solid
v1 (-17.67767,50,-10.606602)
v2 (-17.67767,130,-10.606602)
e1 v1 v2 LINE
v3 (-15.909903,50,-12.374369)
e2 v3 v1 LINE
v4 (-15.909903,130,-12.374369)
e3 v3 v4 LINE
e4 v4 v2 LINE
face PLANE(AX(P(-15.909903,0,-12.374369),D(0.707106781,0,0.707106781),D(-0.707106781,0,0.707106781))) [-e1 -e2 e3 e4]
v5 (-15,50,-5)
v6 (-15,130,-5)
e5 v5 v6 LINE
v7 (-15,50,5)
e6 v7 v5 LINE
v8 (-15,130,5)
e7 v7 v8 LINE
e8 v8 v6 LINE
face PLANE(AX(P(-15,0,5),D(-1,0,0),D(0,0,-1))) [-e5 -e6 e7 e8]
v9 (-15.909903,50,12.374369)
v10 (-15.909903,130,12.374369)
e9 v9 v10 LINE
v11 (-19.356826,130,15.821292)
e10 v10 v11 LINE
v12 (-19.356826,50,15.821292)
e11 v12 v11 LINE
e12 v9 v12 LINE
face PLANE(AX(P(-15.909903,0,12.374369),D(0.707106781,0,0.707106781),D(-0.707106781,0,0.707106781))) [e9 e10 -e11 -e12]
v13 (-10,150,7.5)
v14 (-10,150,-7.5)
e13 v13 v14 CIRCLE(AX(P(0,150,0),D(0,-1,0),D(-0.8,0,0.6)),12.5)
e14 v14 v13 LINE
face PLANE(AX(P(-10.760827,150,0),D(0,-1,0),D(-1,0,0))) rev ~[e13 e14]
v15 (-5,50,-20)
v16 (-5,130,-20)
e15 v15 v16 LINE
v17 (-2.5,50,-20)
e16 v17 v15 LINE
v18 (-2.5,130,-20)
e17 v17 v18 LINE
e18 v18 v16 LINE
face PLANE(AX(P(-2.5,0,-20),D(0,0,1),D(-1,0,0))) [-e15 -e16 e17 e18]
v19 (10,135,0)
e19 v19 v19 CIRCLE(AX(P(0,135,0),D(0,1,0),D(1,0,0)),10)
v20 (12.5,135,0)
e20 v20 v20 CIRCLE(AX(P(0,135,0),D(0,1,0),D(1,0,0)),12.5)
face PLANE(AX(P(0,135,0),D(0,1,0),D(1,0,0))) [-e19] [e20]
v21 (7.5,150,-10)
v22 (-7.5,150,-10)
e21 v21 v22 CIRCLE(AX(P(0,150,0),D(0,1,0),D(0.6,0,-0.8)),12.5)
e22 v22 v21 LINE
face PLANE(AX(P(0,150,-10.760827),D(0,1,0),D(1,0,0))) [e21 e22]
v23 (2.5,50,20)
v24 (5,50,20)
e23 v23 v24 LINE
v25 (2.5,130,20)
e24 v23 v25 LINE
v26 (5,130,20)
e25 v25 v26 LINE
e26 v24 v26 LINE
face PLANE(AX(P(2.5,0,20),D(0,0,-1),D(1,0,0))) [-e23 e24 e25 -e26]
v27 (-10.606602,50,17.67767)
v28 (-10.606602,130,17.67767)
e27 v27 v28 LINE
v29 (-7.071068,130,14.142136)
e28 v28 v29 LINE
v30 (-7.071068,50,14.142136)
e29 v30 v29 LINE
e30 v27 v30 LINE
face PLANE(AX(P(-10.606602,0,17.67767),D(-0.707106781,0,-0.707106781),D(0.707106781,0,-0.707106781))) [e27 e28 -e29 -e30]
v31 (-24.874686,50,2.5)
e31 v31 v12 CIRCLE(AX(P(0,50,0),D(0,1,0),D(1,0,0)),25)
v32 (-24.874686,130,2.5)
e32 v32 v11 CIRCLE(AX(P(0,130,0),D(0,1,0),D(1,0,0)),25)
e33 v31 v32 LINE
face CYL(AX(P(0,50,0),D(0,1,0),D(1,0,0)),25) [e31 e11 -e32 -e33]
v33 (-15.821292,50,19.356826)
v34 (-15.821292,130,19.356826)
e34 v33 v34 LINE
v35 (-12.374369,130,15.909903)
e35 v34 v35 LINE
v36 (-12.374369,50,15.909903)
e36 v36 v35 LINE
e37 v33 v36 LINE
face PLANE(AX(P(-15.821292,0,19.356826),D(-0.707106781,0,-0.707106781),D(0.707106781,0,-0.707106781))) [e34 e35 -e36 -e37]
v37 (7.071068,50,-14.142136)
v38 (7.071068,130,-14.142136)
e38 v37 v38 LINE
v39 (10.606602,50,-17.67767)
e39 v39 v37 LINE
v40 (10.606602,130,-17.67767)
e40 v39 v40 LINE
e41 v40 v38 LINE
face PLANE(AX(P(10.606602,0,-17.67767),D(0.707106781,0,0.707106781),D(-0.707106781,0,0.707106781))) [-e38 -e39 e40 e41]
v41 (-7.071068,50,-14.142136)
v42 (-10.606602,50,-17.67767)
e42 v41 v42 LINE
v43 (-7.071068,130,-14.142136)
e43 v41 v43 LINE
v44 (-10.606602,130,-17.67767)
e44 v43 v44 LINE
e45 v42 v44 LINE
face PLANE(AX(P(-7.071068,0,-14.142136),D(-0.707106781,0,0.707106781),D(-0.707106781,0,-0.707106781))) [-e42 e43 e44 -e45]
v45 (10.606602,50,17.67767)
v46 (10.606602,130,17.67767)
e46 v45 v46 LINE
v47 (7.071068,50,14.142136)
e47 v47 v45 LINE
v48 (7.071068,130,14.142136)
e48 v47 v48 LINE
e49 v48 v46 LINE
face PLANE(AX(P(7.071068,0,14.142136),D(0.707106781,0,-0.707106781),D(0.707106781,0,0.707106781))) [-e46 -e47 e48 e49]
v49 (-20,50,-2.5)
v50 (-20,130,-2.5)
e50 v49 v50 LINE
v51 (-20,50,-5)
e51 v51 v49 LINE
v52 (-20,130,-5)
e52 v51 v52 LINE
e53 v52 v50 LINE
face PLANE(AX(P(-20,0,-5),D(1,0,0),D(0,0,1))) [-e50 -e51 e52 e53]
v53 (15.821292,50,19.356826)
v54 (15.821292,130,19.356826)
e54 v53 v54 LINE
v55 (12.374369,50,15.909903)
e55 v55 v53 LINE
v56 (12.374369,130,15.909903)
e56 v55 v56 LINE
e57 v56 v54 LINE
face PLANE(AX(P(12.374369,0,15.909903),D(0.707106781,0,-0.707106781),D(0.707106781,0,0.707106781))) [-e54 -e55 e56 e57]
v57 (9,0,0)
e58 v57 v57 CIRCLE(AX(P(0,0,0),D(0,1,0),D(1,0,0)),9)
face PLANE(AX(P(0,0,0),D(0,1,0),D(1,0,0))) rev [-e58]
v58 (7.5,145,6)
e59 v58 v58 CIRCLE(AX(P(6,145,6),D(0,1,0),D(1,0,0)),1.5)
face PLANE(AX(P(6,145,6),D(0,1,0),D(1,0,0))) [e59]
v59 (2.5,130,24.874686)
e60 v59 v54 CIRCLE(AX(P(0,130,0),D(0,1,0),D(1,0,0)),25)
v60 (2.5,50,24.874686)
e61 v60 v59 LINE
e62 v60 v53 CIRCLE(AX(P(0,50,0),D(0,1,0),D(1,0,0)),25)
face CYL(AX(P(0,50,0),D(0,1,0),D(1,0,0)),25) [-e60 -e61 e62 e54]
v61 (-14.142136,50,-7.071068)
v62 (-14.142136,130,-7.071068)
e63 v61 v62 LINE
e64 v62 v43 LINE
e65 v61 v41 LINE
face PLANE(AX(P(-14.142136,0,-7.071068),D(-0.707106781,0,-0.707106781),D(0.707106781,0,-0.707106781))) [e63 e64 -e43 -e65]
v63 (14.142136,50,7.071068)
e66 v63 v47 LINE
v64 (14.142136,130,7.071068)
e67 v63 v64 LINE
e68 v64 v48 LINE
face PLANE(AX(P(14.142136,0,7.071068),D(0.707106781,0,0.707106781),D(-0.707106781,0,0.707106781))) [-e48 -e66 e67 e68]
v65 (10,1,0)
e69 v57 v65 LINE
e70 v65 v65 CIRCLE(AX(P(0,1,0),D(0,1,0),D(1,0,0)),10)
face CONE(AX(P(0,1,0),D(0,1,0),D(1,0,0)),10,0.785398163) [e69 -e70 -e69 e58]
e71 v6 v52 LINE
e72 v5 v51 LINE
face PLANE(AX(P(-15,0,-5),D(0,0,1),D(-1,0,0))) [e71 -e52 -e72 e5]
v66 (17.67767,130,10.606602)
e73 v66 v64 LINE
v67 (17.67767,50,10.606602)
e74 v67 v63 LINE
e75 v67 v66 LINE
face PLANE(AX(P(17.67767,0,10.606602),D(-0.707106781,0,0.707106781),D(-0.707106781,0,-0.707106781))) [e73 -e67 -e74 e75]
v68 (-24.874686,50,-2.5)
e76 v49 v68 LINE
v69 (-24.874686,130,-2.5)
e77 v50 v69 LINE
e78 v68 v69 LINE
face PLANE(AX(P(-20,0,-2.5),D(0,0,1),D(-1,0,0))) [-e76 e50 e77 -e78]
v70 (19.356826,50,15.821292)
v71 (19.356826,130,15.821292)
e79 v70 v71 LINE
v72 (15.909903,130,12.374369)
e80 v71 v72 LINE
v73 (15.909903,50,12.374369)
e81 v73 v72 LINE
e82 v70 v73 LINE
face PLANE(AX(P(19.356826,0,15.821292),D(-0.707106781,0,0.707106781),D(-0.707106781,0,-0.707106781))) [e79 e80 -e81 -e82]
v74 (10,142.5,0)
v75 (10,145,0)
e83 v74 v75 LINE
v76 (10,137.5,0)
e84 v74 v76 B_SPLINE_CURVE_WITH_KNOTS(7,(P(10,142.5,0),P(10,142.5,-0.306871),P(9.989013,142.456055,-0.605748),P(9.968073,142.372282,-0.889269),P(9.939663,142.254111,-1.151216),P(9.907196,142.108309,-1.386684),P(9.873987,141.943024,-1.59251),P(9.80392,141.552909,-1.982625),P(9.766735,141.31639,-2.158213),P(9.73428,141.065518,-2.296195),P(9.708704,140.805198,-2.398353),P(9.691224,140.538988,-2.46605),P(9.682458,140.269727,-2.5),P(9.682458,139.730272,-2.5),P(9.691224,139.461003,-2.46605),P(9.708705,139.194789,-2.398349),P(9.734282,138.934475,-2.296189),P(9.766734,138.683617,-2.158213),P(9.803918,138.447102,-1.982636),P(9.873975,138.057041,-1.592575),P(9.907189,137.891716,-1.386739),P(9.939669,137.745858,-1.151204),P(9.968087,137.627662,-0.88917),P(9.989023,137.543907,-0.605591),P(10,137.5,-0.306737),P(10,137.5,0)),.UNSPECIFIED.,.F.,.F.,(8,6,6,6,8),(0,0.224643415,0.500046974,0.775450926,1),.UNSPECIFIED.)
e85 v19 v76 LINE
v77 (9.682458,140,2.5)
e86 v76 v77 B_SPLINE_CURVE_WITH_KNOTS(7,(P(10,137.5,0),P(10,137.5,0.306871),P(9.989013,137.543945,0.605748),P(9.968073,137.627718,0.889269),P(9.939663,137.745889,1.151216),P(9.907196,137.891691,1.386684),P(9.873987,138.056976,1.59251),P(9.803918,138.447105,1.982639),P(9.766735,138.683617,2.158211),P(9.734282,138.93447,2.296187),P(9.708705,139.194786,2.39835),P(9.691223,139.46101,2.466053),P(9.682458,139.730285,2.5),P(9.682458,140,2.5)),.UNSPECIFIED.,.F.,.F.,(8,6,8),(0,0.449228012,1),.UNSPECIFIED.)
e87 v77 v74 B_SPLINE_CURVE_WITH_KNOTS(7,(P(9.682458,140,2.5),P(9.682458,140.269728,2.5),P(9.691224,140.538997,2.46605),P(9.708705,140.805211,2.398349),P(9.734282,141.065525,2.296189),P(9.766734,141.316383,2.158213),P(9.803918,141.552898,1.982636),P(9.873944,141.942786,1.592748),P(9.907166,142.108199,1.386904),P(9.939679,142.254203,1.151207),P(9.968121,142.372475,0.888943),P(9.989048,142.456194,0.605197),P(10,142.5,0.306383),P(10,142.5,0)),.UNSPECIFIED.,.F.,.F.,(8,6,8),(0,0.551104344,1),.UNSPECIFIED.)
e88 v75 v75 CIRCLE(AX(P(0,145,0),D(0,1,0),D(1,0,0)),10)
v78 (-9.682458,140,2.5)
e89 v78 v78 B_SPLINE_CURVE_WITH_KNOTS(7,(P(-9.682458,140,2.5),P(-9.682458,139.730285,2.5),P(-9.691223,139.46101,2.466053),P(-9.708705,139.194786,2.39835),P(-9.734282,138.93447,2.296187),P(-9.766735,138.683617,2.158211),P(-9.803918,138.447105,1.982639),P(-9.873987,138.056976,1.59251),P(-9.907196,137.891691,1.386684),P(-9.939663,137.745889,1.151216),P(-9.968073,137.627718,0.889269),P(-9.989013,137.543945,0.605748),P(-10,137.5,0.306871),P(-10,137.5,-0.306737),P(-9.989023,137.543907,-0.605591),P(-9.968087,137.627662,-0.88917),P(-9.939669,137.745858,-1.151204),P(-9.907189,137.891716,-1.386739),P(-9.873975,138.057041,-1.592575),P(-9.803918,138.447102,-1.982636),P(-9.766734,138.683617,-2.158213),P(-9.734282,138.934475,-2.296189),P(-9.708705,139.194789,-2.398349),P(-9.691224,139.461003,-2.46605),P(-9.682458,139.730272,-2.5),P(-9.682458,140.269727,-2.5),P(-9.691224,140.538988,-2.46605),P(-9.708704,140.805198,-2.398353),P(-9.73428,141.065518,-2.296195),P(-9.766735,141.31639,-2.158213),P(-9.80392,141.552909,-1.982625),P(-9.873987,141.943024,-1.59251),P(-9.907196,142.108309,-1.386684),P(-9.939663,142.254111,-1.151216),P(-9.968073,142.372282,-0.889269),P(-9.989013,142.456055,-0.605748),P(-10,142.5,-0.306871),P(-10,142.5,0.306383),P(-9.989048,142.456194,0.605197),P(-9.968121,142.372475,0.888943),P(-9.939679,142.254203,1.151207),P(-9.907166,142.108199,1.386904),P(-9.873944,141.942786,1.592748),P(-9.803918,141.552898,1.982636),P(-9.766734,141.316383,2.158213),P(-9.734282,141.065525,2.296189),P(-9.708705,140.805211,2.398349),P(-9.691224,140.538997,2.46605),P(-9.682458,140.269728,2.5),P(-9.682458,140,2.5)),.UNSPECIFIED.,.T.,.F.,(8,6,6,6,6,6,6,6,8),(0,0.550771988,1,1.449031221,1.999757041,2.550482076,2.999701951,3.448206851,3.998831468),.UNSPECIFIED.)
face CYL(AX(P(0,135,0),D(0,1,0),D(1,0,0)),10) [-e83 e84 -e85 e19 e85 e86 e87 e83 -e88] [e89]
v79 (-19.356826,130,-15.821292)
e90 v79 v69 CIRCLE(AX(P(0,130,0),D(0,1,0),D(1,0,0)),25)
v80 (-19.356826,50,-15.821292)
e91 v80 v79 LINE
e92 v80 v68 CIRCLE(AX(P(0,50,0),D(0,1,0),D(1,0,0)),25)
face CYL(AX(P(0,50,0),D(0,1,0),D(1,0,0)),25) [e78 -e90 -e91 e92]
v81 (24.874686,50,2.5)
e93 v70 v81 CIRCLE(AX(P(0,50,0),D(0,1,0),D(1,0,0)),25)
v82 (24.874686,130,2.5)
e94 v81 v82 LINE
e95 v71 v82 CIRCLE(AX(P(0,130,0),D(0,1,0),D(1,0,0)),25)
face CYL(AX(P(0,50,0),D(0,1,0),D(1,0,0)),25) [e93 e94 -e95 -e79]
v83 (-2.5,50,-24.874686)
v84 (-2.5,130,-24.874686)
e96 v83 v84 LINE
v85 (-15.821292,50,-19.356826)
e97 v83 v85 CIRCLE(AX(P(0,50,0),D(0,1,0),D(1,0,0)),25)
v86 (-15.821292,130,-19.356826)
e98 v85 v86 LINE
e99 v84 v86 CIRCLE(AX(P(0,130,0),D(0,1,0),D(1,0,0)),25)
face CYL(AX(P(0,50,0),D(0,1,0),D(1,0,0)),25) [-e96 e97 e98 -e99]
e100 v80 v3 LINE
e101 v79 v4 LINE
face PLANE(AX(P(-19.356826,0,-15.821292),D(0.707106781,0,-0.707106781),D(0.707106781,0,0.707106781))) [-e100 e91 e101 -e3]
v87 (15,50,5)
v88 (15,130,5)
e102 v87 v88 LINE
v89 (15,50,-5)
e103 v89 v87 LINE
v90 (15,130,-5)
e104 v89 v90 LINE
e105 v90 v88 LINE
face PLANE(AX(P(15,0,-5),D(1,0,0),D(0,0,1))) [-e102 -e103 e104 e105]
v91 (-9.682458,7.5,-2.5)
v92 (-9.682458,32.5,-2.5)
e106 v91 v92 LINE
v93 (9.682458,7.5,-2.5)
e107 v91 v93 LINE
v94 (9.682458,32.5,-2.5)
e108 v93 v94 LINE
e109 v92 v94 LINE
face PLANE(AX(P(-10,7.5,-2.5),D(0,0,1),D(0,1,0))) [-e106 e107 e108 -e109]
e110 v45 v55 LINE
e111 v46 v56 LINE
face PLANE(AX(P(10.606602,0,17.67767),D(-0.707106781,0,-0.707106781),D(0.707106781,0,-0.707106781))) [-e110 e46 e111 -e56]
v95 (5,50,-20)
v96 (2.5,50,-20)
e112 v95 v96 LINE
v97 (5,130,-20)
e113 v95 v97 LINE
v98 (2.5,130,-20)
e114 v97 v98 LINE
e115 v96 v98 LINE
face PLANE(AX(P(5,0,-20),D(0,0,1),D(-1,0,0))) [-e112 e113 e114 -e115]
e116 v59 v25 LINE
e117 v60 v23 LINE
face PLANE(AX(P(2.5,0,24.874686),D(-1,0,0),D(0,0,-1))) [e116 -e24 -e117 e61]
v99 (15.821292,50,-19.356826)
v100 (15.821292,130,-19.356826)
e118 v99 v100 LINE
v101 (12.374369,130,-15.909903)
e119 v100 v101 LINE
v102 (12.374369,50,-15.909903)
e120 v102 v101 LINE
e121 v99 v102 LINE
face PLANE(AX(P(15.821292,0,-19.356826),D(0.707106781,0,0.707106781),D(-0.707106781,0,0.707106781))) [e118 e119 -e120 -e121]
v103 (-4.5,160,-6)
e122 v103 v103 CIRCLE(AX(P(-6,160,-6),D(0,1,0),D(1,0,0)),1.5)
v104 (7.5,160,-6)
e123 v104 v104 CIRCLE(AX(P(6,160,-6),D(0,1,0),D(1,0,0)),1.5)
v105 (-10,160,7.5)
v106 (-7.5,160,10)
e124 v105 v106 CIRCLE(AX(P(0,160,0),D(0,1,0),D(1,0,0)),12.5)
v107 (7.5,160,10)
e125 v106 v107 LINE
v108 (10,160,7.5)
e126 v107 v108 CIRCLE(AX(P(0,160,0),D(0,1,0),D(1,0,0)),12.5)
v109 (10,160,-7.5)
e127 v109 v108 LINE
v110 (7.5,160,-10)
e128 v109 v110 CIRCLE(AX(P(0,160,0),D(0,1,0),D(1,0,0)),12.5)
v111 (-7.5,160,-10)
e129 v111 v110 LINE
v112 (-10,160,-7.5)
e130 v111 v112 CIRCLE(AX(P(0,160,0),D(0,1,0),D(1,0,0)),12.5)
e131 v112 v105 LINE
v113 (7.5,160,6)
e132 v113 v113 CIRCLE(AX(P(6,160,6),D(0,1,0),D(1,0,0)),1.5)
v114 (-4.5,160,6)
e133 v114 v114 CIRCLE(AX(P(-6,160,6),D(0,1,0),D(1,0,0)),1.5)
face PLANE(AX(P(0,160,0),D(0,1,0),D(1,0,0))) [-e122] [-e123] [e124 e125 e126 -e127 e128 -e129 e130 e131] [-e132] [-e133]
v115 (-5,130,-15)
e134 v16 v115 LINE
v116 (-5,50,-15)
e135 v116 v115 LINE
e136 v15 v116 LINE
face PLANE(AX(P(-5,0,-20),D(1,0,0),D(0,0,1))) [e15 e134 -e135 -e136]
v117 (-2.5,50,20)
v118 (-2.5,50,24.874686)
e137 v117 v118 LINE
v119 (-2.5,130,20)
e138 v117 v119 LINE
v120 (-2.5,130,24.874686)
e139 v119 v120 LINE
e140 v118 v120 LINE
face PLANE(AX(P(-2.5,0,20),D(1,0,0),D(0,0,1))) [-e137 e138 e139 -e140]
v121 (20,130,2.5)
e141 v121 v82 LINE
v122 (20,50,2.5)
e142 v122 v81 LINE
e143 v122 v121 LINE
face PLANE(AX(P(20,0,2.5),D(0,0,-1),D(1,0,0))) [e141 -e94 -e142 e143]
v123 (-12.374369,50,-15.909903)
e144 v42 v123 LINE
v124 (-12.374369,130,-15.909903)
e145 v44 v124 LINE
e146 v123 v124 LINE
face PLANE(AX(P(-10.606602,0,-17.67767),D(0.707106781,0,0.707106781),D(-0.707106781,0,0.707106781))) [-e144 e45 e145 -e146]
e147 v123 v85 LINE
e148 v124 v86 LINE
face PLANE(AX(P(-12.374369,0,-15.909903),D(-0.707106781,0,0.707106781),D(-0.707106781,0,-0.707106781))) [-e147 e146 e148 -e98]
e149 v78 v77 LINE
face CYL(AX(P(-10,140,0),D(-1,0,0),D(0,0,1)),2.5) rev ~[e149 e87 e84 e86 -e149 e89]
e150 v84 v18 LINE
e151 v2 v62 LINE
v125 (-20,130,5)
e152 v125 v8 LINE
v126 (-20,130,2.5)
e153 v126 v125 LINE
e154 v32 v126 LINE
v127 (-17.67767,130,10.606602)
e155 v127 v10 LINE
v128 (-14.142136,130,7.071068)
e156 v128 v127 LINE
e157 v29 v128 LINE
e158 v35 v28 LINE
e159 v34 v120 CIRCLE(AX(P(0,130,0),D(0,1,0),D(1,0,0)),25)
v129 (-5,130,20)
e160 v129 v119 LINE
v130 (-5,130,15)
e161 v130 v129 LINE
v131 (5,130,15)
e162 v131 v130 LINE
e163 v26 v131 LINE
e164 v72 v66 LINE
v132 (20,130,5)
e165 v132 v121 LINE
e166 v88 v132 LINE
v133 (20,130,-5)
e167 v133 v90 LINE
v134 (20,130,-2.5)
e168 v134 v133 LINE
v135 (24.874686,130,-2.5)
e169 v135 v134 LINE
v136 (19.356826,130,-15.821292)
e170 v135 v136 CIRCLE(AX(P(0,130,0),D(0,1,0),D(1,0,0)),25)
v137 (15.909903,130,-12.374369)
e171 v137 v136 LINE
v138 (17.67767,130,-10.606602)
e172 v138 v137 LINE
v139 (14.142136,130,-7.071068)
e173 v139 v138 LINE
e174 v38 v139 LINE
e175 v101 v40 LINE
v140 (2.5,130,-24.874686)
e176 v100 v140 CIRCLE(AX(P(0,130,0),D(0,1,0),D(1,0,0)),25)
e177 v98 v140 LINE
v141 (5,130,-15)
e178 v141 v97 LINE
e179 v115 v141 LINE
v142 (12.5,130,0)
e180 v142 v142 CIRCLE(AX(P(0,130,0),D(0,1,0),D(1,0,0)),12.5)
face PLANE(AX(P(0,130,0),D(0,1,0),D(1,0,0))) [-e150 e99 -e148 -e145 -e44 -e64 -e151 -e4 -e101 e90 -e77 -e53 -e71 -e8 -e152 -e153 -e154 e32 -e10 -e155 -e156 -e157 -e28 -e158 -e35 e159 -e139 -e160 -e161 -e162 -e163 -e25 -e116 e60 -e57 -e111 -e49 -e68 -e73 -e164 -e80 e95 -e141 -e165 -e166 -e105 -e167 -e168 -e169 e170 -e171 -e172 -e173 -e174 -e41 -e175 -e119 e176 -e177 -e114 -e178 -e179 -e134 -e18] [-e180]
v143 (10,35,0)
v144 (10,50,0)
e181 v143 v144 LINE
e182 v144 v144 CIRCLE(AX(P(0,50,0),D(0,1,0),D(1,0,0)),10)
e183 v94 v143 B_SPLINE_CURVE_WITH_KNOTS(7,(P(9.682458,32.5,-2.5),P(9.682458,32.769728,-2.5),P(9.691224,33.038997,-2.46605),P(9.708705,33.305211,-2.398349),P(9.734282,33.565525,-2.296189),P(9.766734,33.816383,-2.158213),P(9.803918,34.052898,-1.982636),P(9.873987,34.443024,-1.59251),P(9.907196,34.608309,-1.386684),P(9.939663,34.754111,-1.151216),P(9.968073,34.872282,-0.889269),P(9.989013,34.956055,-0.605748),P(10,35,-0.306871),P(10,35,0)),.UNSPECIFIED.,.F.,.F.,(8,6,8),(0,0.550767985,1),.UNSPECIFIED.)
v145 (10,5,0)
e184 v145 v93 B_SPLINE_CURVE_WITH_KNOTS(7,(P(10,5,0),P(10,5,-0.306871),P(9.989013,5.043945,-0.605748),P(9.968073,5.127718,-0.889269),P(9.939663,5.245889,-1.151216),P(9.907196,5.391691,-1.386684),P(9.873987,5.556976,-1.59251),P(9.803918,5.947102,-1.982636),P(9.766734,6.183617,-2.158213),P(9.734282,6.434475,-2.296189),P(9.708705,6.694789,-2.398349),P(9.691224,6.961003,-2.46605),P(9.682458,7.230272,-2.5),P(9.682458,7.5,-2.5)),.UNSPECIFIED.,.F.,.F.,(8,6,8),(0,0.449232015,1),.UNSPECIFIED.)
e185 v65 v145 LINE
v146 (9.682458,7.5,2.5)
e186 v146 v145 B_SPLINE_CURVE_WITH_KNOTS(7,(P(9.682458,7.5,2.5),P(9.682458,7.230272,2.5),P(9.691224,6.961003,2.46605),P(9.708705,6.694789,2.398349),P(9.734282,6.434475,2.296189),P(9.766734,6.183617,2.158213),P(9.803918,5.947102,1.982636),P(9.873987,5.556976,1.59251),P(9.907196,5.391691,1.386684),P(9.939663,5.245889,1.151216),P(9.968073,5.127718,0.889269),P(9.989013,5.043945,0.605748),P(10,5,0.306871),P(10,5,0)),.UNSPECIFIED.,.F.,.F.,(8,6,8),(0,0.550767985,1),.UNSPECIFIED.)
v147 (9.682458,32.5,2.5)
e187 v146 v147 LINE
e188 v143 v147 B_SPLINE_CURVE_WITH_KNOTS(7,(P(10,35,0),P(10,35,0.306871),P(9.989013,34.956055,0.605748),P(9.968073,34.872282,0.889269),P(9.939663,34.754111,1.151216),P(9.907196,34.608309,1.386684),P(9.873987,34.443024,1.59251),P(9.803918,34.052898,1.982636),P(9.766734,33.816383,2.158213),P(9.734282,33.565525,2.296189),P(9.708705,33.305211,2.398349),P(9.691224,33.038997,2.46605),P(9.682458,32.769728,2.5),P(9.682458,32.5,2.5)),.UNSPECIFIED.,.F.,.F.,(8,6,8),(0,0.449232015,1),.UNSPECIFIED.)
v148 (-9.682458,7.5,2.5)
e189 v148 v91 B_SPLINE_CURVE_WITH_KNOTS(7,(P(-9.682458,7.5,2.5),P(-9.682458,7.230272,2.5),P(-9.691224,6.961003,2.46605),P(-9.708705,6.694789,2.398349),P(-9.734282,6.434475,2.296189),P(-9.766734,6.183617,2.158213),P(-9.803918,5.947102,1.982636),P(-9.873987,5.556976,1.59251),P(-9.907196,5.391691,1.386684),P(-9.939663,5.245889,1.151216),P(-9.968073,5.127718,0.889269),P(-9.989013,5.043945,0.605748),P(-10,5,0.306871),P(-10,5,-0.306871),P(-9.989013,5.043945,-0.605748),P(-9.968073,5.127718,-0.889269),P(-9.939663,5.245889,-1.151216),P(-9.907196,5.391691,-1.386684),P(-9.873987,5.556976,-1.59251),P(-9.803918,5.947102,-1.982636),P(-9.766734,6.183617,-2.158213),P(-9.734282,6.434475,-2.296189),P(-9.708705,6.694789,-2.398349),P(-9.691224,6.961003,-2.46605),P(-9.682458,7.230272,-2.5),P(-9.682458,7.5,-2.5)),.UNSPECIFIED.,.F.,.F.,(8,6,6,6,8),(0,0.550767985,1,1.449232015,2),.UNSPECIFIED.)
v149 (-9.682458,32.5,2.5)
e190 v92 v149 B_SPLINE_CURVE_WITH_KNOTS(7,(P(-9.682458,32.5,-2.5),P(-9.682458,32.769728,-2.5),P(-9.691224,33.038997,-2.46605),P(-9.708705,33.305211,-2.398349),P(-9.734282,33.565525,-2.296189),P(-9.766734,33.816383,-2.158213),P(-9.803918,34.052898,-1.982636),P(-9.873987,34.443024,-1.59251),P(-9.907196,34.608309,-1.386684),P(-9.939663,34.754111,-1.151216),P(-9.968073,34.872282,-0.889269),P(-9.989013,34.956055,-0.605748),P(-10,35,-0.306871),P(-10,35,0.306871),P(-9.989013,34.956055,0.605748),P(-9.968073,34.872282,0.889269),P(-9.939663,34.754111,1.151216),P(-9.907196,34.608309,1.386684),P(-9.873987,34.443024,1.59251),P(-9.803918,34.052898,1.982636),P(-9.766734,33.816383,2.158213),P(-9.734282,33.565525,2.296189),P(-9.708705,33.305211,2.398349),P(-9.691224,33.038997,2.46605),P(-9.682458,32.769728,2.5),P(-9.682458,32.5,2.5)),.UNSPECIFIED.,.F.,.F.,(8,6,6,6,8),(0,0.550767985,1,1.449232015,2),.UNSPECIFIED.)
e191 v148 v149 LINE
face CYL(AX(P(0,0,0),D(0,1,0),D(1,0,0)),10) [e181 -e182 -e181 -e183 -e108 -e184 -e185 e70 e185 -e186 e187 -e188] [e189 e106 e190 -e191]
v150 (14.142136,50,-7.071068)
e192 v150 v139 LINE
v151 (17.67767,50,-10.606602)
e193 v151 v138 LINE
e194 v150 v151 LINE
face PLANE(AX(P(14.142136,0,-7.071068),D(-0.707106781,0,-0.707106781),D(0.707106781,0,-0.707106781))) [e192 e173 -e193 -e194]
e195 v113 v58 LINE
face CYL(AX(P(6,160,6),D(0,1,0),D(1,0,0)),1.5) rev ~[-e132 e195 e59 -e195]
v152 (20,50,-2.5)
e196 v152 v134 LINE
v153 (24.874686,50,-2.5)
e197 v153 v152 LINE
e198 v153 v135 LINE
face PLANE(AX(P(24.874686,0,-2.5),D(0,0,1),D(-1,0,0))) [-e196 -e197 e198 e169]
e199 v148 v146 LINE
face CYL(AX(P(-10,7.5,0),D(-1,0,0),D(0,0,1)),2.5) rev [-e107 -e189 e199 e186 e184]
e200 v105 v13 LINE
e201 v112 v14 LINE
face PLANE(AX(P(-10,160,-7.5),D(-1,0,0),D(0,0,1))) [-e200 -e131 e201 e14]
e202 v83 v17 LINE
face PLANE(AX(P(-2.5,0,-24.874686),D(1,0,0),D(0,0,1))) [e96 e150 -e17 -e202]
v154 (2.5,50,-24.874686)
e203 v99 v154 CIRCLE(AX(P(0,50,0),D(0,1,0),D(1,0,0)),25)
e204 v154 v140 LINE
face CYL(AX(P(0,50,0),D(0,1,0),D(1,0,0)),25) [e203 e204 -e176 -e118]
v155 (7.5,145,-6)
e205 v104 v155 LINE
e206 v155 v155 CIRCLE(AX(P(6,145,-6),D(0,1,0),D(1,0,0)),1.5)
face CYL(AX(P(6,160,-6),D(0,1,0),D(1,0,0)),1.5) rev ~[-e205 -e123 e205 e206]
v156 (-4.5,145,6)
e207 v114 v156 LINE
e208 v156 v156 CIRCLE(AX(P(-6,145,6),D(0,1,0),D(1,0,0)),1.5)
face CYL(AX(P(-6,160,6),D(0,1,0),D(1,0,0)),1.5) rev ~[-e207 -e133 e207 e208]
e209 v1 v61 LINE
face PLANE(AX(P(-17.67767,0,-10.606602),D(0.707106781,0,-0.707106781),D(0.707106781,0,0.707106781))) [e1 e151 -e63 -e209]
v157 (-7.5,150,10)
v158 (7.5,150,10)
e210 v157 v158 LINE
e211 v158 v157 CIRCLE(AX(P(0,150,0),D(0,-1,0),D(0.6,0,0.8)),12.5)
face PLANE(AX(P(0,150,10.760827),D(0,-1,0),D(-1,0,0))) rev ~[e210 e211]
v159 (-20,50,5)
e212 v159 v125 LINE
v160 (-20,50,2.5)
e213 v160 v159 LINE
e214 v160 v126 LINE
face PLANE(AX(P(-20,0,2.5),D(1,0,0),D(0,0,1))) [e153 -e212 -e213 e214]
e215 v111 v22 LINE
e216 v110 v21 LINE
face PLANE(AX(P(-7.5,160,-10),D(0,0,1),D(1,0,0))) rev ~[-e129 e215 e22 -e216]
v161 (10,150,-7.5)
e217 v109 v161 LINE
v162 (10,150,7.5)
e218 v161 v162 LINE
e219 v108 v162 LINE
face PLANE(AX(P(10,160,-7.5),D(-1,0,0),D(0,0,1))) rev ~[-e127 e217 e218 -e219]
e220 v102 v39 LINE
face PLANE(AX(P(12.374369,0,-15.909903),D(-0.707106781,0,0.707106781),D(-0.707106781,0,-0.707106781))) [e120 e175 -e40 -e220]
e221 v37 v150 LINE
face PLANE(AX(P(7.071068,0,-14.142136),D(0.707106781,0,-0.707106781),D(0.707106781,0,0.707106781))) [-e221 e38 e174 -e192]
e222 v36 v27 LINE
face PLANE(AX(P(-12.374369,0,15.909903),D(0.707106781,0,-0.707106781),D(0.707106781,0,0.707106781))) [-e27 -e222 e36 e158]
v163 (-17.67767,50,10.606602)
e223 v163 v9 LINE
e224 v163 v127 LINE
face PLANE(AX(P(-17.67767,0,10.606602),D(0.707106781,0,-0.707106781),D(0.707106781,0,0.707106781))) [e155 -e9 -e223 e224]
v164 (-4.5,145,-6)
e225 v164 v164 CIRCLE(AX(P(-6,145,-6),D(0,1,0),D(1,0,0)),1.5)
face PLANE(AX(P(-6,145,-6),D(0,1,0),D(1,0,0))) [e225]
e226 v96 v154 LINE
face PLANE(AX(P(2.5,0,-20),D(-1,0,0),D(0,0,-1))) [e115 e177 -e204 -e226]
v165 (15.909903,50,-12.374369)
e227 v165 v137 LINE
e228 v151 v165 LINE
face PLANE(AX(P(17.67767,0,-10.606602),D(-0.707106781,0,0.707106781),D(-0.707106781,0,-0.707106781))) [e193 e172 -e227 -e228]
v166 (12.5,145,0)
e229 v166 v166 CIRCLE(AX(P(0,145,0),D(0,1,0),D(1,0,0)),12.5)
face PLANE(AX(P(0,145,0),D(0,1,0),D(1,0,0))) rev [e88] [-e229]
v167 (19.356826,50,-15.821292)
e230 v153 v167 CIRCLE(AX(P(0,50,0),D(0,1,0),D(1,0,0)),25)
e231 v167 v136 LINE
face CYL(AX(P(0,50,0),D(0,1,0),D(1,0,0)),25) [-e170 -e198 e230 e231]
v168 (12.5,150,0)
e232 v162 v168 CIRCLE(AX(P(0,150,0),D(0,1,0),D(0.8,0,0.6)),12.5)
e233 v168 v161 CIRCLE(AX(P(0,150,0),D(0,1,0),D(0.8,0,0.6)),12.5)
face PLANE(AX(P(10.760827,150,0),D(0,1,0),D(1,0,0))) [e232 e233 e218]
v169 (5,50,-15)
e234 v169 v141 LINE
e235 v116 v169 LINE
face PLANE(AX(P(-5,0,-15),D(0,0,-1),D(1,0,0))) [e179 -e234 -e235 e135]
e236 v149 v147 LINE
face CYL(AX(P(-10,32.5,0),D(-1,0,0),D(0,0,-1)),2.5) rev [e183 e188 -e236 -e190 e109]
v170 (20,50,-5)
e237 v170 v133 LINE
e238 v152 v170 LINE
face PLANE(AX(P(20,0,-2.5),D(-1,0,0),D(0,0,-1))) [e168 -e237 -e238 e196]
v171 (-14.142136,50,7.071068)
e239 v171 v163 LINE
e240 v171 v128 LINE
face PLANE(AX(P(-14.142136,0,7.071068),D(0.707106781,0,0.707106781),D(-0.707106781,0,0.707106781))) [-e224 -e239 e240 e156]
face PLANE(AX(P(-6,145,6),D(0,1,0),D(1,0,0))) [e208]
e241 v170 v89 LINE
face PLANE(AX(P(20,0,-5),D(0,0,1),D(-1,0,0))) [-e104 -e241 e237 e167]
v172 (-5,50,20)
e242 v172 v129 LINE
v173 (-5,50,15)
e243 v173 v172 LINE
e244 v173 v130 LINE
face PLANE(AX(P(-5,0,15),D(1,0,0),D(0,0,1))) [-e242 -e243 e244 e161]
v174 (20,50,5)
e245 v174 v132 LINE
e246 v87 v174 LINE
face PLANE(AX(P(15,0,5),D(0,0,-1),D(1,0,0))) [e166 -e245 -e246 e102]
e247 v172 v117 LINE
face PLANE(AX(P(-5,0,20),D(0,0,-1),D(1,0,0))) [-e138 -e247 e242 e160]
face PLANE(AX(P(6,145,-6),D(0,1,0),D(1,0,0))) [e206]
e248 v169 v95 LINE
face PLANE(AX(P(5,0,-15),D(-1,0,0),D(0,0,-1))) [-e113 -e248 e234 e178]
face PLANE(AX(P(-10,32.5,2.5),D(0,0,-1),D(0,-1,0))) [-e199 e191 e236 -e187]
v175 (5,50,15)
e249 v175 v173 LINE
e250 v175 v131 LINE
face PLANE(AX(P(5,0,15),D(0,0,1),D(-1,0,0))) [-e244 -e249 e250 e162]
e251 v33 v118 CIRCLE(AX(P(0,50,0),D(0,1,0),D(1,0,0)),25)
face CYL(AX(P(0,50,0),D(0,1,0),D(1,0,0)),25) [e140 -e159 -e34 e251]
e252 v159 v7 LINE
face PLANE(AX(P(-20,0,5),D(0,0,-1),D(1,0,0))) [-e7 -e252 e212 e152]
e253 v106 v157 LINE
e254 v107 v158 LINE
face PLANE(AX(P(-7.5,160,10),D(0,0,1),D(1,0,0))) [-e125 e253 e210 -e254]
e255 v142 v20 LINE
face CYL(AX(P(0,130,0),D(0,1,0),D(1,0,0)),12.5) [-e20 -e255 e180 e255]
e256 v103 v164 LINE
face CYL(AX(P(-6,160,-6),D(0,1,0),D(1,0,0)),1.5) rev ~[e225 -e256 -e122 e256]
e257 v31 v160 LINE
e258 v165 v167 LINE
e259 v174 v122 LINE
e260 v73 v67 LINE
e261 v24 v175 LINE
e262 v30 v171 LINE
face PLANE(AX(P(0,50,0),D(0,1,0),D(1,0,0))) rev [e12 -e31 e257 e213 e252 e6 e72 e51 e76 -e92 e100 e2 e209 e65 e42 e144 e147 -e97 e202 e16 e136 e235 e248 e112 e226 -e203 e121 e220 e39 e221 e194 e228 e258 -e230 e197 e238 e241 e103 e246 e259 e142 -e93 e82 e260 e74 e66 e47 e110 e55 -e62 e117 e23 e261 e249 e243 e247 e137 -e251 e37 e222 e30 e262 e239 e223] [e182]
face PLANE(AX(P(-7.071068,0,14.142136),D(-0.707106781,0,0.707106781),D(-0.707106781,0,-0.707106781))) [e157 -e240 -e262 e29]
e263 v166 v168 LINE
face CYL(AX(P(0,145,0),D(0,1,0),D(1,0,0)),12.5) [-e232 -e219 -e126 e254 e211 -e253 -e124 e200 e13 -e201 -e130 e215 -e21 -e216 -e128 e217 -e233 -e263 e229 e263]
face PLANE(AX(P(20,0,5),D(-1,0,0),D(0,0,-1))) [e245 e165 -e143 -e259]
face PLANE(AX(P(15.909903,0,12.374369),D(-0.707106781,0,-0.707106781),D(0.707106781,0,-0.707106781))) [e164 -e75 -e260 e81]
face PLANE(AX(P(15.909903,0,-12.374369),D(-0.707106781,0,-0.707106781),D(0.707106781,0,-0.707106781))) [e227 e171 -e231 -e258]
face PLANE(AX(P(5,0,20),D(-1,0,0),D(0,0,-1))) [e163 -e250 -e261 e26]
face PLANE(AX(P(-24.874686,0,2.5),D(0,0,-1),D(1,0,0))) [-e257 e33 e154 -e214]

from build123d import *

# Parameters (mm, degrees)
CHAMFER1_SIZE       = 1
CUT_EXTRUDE6_DEPTH  = 130
CIRPATTERN1_COUNT   = 8
CUT_EXTRUDE8_DEPTH  = 10
SKETCH4_R           = 1.5
CUT_EXTRUDE9_DEPTH  = 15
SKETCH5_R           = 2.5
CUT_EXTRUDE10_DEPTH = 20
CUT_EXTRUDE11_DEPTH = 20


with BuildPart() as part:
    # Sketch1 → Revolve8 (revolve)
    with BuildSketch(Plane.XY):
        Polygon((0, 0), (10, 0), (10, 50), (25, 50), (25, 130), (12.5, 130), (12.5, 135), (10, 135), (10, 145), (12.5, 145), (12.5, 160), (0, 160), align=None)
    revolve(axis=Axis((0, 0, 0), (0, 1, 0)))

    # Chamfer1
    chamfer1_edges = [part.edges().sort_by_distance(p)[0] for p in [
        (-10, 0, 0),
    ]]
    chamfer(chamfer1_edges, length=CHAMFER1_SIZE)

    # Sketch2 → Cut-Extrude6 (cut)
    with BuildSketch(Plane(origin=(0, 0, 0), x_dir=(1, 0, 0), z_dir=(0, 1, 0))):
        with BuildLine():
            Line((24.874685928, 2.5), (20, 2.5))
            Line((20, 2.5), (20, 5))
            Line((20, 5), (15, 5))
            Line((15, 5), (15, -5))
            Line((15, -5), (20, -5))
            Line((20, -5), (20, -2.5))
            Line((20, -2.5), (24.874685928, -2.5))
            ThreePointArc((24.874685928, -2.5), (25, 0), (24.874685928, 2.5))
        make_face()
    cut_extrude6 = extrude(amount=CUT_EXTRUDE6_DEPTH, mode=Mode.SUBTRACT)

    # CirPattern1: Cut-Extrude6 ×8 about axis
    cirpattern1_axis = Axis((0, 0, 0), (0, 1, 0))
    for i in range(1, CIRPATTERN1_COUNT):
        add(cut_extrude6.rotate(cirpattern1_axis, i * 360 / CIRPATTERN1_COUNT), mode=Mode.SUBTRACT)

    # Sketch3 → Cut-Extrude8 (cut)
    with BuildSketch(Plane(origin=(0, 160, 0), x_dir=(1, 0, 0), z_dir=(0, 1, 0))):
        with BuildLine():
            Line((-7.5, 10), (7.5, 10))
            ThreePointArc((7.5, 10), (0, 12.5), (-7.5, 10))
        make_face()
        with BuildLine():
            Line((-10, 7.5), (-10, -7.5))
            ThreePointArc((-10, -7.5), (-12.5, 0), (-10, 7.5))
        make_face()
        with BuildLine():
            Line((-7.5, -10), (7.5, -10))
            ThreePointArc((7.5, -10), (0, -12.5), (-7.5, -10))
        make_face()
        with BuildLine():
            Line((10, 7.5), (10, -7.5))
            ThreePointArc((10, -7.5), (12.5, 0), (10, 7.5))
        make_face()
    extrude(amount=-CUT_EXTRUDE8_DEPTH, mode=Mode.SUBTRACT)

    # Sketch4 → Cut-Extrude9 (cut)
    with BuildSketch(Plane(origin=(0, 160, 0), x_dir=(1, 0, 0), z_dir=(0, 1, 0))):
        with Locations((-6, 6)):
            Circle(SKETCH4_R)
        with Locations((6, 6)):
            Circle(SKETCH4_R)
        with Locations((6, -6)):
            Circle(SKETCH4_R)
        with Locations((-6, -6)):
            Circle(SKETCH4_R)
    extrude(amount=-CUT_EXTRUDE9_DEPTH, mode=Mode.SUBTRACT)

    # Sketch5 → Cut-Extrude10 (cut)
    with BuildSketch(Plane.ZY.offset(10)):
        with Locations((0, 140)):
            Circle(SKETCH5_R)
    extrude(amount=-CUT_EXTRUDE10_DEPTH, mode=Mode.SUBTRACT)

    # Sketch6 → Cut-Extrude11 (cut)
    with BuildSketch(Plane.ZY.offset(10)):
        with BuildLine():
            Line((2.5, 32.5), (2.5, 7.5))
            ThreePointArc((2.5, 7.5), (0, 5), (-2.5, 7.5))
            Line((-2.5, 7.5), (-2.5, 32.5))
            ThreePointArc((-2.5, 32.5), (0, 35), (2.5, 32.5))
        make_face()
    extrude(amount=-CUT_EXTRUDE11_DEPTH, mode=Mode.SUBTRACT)


solid = part.part
